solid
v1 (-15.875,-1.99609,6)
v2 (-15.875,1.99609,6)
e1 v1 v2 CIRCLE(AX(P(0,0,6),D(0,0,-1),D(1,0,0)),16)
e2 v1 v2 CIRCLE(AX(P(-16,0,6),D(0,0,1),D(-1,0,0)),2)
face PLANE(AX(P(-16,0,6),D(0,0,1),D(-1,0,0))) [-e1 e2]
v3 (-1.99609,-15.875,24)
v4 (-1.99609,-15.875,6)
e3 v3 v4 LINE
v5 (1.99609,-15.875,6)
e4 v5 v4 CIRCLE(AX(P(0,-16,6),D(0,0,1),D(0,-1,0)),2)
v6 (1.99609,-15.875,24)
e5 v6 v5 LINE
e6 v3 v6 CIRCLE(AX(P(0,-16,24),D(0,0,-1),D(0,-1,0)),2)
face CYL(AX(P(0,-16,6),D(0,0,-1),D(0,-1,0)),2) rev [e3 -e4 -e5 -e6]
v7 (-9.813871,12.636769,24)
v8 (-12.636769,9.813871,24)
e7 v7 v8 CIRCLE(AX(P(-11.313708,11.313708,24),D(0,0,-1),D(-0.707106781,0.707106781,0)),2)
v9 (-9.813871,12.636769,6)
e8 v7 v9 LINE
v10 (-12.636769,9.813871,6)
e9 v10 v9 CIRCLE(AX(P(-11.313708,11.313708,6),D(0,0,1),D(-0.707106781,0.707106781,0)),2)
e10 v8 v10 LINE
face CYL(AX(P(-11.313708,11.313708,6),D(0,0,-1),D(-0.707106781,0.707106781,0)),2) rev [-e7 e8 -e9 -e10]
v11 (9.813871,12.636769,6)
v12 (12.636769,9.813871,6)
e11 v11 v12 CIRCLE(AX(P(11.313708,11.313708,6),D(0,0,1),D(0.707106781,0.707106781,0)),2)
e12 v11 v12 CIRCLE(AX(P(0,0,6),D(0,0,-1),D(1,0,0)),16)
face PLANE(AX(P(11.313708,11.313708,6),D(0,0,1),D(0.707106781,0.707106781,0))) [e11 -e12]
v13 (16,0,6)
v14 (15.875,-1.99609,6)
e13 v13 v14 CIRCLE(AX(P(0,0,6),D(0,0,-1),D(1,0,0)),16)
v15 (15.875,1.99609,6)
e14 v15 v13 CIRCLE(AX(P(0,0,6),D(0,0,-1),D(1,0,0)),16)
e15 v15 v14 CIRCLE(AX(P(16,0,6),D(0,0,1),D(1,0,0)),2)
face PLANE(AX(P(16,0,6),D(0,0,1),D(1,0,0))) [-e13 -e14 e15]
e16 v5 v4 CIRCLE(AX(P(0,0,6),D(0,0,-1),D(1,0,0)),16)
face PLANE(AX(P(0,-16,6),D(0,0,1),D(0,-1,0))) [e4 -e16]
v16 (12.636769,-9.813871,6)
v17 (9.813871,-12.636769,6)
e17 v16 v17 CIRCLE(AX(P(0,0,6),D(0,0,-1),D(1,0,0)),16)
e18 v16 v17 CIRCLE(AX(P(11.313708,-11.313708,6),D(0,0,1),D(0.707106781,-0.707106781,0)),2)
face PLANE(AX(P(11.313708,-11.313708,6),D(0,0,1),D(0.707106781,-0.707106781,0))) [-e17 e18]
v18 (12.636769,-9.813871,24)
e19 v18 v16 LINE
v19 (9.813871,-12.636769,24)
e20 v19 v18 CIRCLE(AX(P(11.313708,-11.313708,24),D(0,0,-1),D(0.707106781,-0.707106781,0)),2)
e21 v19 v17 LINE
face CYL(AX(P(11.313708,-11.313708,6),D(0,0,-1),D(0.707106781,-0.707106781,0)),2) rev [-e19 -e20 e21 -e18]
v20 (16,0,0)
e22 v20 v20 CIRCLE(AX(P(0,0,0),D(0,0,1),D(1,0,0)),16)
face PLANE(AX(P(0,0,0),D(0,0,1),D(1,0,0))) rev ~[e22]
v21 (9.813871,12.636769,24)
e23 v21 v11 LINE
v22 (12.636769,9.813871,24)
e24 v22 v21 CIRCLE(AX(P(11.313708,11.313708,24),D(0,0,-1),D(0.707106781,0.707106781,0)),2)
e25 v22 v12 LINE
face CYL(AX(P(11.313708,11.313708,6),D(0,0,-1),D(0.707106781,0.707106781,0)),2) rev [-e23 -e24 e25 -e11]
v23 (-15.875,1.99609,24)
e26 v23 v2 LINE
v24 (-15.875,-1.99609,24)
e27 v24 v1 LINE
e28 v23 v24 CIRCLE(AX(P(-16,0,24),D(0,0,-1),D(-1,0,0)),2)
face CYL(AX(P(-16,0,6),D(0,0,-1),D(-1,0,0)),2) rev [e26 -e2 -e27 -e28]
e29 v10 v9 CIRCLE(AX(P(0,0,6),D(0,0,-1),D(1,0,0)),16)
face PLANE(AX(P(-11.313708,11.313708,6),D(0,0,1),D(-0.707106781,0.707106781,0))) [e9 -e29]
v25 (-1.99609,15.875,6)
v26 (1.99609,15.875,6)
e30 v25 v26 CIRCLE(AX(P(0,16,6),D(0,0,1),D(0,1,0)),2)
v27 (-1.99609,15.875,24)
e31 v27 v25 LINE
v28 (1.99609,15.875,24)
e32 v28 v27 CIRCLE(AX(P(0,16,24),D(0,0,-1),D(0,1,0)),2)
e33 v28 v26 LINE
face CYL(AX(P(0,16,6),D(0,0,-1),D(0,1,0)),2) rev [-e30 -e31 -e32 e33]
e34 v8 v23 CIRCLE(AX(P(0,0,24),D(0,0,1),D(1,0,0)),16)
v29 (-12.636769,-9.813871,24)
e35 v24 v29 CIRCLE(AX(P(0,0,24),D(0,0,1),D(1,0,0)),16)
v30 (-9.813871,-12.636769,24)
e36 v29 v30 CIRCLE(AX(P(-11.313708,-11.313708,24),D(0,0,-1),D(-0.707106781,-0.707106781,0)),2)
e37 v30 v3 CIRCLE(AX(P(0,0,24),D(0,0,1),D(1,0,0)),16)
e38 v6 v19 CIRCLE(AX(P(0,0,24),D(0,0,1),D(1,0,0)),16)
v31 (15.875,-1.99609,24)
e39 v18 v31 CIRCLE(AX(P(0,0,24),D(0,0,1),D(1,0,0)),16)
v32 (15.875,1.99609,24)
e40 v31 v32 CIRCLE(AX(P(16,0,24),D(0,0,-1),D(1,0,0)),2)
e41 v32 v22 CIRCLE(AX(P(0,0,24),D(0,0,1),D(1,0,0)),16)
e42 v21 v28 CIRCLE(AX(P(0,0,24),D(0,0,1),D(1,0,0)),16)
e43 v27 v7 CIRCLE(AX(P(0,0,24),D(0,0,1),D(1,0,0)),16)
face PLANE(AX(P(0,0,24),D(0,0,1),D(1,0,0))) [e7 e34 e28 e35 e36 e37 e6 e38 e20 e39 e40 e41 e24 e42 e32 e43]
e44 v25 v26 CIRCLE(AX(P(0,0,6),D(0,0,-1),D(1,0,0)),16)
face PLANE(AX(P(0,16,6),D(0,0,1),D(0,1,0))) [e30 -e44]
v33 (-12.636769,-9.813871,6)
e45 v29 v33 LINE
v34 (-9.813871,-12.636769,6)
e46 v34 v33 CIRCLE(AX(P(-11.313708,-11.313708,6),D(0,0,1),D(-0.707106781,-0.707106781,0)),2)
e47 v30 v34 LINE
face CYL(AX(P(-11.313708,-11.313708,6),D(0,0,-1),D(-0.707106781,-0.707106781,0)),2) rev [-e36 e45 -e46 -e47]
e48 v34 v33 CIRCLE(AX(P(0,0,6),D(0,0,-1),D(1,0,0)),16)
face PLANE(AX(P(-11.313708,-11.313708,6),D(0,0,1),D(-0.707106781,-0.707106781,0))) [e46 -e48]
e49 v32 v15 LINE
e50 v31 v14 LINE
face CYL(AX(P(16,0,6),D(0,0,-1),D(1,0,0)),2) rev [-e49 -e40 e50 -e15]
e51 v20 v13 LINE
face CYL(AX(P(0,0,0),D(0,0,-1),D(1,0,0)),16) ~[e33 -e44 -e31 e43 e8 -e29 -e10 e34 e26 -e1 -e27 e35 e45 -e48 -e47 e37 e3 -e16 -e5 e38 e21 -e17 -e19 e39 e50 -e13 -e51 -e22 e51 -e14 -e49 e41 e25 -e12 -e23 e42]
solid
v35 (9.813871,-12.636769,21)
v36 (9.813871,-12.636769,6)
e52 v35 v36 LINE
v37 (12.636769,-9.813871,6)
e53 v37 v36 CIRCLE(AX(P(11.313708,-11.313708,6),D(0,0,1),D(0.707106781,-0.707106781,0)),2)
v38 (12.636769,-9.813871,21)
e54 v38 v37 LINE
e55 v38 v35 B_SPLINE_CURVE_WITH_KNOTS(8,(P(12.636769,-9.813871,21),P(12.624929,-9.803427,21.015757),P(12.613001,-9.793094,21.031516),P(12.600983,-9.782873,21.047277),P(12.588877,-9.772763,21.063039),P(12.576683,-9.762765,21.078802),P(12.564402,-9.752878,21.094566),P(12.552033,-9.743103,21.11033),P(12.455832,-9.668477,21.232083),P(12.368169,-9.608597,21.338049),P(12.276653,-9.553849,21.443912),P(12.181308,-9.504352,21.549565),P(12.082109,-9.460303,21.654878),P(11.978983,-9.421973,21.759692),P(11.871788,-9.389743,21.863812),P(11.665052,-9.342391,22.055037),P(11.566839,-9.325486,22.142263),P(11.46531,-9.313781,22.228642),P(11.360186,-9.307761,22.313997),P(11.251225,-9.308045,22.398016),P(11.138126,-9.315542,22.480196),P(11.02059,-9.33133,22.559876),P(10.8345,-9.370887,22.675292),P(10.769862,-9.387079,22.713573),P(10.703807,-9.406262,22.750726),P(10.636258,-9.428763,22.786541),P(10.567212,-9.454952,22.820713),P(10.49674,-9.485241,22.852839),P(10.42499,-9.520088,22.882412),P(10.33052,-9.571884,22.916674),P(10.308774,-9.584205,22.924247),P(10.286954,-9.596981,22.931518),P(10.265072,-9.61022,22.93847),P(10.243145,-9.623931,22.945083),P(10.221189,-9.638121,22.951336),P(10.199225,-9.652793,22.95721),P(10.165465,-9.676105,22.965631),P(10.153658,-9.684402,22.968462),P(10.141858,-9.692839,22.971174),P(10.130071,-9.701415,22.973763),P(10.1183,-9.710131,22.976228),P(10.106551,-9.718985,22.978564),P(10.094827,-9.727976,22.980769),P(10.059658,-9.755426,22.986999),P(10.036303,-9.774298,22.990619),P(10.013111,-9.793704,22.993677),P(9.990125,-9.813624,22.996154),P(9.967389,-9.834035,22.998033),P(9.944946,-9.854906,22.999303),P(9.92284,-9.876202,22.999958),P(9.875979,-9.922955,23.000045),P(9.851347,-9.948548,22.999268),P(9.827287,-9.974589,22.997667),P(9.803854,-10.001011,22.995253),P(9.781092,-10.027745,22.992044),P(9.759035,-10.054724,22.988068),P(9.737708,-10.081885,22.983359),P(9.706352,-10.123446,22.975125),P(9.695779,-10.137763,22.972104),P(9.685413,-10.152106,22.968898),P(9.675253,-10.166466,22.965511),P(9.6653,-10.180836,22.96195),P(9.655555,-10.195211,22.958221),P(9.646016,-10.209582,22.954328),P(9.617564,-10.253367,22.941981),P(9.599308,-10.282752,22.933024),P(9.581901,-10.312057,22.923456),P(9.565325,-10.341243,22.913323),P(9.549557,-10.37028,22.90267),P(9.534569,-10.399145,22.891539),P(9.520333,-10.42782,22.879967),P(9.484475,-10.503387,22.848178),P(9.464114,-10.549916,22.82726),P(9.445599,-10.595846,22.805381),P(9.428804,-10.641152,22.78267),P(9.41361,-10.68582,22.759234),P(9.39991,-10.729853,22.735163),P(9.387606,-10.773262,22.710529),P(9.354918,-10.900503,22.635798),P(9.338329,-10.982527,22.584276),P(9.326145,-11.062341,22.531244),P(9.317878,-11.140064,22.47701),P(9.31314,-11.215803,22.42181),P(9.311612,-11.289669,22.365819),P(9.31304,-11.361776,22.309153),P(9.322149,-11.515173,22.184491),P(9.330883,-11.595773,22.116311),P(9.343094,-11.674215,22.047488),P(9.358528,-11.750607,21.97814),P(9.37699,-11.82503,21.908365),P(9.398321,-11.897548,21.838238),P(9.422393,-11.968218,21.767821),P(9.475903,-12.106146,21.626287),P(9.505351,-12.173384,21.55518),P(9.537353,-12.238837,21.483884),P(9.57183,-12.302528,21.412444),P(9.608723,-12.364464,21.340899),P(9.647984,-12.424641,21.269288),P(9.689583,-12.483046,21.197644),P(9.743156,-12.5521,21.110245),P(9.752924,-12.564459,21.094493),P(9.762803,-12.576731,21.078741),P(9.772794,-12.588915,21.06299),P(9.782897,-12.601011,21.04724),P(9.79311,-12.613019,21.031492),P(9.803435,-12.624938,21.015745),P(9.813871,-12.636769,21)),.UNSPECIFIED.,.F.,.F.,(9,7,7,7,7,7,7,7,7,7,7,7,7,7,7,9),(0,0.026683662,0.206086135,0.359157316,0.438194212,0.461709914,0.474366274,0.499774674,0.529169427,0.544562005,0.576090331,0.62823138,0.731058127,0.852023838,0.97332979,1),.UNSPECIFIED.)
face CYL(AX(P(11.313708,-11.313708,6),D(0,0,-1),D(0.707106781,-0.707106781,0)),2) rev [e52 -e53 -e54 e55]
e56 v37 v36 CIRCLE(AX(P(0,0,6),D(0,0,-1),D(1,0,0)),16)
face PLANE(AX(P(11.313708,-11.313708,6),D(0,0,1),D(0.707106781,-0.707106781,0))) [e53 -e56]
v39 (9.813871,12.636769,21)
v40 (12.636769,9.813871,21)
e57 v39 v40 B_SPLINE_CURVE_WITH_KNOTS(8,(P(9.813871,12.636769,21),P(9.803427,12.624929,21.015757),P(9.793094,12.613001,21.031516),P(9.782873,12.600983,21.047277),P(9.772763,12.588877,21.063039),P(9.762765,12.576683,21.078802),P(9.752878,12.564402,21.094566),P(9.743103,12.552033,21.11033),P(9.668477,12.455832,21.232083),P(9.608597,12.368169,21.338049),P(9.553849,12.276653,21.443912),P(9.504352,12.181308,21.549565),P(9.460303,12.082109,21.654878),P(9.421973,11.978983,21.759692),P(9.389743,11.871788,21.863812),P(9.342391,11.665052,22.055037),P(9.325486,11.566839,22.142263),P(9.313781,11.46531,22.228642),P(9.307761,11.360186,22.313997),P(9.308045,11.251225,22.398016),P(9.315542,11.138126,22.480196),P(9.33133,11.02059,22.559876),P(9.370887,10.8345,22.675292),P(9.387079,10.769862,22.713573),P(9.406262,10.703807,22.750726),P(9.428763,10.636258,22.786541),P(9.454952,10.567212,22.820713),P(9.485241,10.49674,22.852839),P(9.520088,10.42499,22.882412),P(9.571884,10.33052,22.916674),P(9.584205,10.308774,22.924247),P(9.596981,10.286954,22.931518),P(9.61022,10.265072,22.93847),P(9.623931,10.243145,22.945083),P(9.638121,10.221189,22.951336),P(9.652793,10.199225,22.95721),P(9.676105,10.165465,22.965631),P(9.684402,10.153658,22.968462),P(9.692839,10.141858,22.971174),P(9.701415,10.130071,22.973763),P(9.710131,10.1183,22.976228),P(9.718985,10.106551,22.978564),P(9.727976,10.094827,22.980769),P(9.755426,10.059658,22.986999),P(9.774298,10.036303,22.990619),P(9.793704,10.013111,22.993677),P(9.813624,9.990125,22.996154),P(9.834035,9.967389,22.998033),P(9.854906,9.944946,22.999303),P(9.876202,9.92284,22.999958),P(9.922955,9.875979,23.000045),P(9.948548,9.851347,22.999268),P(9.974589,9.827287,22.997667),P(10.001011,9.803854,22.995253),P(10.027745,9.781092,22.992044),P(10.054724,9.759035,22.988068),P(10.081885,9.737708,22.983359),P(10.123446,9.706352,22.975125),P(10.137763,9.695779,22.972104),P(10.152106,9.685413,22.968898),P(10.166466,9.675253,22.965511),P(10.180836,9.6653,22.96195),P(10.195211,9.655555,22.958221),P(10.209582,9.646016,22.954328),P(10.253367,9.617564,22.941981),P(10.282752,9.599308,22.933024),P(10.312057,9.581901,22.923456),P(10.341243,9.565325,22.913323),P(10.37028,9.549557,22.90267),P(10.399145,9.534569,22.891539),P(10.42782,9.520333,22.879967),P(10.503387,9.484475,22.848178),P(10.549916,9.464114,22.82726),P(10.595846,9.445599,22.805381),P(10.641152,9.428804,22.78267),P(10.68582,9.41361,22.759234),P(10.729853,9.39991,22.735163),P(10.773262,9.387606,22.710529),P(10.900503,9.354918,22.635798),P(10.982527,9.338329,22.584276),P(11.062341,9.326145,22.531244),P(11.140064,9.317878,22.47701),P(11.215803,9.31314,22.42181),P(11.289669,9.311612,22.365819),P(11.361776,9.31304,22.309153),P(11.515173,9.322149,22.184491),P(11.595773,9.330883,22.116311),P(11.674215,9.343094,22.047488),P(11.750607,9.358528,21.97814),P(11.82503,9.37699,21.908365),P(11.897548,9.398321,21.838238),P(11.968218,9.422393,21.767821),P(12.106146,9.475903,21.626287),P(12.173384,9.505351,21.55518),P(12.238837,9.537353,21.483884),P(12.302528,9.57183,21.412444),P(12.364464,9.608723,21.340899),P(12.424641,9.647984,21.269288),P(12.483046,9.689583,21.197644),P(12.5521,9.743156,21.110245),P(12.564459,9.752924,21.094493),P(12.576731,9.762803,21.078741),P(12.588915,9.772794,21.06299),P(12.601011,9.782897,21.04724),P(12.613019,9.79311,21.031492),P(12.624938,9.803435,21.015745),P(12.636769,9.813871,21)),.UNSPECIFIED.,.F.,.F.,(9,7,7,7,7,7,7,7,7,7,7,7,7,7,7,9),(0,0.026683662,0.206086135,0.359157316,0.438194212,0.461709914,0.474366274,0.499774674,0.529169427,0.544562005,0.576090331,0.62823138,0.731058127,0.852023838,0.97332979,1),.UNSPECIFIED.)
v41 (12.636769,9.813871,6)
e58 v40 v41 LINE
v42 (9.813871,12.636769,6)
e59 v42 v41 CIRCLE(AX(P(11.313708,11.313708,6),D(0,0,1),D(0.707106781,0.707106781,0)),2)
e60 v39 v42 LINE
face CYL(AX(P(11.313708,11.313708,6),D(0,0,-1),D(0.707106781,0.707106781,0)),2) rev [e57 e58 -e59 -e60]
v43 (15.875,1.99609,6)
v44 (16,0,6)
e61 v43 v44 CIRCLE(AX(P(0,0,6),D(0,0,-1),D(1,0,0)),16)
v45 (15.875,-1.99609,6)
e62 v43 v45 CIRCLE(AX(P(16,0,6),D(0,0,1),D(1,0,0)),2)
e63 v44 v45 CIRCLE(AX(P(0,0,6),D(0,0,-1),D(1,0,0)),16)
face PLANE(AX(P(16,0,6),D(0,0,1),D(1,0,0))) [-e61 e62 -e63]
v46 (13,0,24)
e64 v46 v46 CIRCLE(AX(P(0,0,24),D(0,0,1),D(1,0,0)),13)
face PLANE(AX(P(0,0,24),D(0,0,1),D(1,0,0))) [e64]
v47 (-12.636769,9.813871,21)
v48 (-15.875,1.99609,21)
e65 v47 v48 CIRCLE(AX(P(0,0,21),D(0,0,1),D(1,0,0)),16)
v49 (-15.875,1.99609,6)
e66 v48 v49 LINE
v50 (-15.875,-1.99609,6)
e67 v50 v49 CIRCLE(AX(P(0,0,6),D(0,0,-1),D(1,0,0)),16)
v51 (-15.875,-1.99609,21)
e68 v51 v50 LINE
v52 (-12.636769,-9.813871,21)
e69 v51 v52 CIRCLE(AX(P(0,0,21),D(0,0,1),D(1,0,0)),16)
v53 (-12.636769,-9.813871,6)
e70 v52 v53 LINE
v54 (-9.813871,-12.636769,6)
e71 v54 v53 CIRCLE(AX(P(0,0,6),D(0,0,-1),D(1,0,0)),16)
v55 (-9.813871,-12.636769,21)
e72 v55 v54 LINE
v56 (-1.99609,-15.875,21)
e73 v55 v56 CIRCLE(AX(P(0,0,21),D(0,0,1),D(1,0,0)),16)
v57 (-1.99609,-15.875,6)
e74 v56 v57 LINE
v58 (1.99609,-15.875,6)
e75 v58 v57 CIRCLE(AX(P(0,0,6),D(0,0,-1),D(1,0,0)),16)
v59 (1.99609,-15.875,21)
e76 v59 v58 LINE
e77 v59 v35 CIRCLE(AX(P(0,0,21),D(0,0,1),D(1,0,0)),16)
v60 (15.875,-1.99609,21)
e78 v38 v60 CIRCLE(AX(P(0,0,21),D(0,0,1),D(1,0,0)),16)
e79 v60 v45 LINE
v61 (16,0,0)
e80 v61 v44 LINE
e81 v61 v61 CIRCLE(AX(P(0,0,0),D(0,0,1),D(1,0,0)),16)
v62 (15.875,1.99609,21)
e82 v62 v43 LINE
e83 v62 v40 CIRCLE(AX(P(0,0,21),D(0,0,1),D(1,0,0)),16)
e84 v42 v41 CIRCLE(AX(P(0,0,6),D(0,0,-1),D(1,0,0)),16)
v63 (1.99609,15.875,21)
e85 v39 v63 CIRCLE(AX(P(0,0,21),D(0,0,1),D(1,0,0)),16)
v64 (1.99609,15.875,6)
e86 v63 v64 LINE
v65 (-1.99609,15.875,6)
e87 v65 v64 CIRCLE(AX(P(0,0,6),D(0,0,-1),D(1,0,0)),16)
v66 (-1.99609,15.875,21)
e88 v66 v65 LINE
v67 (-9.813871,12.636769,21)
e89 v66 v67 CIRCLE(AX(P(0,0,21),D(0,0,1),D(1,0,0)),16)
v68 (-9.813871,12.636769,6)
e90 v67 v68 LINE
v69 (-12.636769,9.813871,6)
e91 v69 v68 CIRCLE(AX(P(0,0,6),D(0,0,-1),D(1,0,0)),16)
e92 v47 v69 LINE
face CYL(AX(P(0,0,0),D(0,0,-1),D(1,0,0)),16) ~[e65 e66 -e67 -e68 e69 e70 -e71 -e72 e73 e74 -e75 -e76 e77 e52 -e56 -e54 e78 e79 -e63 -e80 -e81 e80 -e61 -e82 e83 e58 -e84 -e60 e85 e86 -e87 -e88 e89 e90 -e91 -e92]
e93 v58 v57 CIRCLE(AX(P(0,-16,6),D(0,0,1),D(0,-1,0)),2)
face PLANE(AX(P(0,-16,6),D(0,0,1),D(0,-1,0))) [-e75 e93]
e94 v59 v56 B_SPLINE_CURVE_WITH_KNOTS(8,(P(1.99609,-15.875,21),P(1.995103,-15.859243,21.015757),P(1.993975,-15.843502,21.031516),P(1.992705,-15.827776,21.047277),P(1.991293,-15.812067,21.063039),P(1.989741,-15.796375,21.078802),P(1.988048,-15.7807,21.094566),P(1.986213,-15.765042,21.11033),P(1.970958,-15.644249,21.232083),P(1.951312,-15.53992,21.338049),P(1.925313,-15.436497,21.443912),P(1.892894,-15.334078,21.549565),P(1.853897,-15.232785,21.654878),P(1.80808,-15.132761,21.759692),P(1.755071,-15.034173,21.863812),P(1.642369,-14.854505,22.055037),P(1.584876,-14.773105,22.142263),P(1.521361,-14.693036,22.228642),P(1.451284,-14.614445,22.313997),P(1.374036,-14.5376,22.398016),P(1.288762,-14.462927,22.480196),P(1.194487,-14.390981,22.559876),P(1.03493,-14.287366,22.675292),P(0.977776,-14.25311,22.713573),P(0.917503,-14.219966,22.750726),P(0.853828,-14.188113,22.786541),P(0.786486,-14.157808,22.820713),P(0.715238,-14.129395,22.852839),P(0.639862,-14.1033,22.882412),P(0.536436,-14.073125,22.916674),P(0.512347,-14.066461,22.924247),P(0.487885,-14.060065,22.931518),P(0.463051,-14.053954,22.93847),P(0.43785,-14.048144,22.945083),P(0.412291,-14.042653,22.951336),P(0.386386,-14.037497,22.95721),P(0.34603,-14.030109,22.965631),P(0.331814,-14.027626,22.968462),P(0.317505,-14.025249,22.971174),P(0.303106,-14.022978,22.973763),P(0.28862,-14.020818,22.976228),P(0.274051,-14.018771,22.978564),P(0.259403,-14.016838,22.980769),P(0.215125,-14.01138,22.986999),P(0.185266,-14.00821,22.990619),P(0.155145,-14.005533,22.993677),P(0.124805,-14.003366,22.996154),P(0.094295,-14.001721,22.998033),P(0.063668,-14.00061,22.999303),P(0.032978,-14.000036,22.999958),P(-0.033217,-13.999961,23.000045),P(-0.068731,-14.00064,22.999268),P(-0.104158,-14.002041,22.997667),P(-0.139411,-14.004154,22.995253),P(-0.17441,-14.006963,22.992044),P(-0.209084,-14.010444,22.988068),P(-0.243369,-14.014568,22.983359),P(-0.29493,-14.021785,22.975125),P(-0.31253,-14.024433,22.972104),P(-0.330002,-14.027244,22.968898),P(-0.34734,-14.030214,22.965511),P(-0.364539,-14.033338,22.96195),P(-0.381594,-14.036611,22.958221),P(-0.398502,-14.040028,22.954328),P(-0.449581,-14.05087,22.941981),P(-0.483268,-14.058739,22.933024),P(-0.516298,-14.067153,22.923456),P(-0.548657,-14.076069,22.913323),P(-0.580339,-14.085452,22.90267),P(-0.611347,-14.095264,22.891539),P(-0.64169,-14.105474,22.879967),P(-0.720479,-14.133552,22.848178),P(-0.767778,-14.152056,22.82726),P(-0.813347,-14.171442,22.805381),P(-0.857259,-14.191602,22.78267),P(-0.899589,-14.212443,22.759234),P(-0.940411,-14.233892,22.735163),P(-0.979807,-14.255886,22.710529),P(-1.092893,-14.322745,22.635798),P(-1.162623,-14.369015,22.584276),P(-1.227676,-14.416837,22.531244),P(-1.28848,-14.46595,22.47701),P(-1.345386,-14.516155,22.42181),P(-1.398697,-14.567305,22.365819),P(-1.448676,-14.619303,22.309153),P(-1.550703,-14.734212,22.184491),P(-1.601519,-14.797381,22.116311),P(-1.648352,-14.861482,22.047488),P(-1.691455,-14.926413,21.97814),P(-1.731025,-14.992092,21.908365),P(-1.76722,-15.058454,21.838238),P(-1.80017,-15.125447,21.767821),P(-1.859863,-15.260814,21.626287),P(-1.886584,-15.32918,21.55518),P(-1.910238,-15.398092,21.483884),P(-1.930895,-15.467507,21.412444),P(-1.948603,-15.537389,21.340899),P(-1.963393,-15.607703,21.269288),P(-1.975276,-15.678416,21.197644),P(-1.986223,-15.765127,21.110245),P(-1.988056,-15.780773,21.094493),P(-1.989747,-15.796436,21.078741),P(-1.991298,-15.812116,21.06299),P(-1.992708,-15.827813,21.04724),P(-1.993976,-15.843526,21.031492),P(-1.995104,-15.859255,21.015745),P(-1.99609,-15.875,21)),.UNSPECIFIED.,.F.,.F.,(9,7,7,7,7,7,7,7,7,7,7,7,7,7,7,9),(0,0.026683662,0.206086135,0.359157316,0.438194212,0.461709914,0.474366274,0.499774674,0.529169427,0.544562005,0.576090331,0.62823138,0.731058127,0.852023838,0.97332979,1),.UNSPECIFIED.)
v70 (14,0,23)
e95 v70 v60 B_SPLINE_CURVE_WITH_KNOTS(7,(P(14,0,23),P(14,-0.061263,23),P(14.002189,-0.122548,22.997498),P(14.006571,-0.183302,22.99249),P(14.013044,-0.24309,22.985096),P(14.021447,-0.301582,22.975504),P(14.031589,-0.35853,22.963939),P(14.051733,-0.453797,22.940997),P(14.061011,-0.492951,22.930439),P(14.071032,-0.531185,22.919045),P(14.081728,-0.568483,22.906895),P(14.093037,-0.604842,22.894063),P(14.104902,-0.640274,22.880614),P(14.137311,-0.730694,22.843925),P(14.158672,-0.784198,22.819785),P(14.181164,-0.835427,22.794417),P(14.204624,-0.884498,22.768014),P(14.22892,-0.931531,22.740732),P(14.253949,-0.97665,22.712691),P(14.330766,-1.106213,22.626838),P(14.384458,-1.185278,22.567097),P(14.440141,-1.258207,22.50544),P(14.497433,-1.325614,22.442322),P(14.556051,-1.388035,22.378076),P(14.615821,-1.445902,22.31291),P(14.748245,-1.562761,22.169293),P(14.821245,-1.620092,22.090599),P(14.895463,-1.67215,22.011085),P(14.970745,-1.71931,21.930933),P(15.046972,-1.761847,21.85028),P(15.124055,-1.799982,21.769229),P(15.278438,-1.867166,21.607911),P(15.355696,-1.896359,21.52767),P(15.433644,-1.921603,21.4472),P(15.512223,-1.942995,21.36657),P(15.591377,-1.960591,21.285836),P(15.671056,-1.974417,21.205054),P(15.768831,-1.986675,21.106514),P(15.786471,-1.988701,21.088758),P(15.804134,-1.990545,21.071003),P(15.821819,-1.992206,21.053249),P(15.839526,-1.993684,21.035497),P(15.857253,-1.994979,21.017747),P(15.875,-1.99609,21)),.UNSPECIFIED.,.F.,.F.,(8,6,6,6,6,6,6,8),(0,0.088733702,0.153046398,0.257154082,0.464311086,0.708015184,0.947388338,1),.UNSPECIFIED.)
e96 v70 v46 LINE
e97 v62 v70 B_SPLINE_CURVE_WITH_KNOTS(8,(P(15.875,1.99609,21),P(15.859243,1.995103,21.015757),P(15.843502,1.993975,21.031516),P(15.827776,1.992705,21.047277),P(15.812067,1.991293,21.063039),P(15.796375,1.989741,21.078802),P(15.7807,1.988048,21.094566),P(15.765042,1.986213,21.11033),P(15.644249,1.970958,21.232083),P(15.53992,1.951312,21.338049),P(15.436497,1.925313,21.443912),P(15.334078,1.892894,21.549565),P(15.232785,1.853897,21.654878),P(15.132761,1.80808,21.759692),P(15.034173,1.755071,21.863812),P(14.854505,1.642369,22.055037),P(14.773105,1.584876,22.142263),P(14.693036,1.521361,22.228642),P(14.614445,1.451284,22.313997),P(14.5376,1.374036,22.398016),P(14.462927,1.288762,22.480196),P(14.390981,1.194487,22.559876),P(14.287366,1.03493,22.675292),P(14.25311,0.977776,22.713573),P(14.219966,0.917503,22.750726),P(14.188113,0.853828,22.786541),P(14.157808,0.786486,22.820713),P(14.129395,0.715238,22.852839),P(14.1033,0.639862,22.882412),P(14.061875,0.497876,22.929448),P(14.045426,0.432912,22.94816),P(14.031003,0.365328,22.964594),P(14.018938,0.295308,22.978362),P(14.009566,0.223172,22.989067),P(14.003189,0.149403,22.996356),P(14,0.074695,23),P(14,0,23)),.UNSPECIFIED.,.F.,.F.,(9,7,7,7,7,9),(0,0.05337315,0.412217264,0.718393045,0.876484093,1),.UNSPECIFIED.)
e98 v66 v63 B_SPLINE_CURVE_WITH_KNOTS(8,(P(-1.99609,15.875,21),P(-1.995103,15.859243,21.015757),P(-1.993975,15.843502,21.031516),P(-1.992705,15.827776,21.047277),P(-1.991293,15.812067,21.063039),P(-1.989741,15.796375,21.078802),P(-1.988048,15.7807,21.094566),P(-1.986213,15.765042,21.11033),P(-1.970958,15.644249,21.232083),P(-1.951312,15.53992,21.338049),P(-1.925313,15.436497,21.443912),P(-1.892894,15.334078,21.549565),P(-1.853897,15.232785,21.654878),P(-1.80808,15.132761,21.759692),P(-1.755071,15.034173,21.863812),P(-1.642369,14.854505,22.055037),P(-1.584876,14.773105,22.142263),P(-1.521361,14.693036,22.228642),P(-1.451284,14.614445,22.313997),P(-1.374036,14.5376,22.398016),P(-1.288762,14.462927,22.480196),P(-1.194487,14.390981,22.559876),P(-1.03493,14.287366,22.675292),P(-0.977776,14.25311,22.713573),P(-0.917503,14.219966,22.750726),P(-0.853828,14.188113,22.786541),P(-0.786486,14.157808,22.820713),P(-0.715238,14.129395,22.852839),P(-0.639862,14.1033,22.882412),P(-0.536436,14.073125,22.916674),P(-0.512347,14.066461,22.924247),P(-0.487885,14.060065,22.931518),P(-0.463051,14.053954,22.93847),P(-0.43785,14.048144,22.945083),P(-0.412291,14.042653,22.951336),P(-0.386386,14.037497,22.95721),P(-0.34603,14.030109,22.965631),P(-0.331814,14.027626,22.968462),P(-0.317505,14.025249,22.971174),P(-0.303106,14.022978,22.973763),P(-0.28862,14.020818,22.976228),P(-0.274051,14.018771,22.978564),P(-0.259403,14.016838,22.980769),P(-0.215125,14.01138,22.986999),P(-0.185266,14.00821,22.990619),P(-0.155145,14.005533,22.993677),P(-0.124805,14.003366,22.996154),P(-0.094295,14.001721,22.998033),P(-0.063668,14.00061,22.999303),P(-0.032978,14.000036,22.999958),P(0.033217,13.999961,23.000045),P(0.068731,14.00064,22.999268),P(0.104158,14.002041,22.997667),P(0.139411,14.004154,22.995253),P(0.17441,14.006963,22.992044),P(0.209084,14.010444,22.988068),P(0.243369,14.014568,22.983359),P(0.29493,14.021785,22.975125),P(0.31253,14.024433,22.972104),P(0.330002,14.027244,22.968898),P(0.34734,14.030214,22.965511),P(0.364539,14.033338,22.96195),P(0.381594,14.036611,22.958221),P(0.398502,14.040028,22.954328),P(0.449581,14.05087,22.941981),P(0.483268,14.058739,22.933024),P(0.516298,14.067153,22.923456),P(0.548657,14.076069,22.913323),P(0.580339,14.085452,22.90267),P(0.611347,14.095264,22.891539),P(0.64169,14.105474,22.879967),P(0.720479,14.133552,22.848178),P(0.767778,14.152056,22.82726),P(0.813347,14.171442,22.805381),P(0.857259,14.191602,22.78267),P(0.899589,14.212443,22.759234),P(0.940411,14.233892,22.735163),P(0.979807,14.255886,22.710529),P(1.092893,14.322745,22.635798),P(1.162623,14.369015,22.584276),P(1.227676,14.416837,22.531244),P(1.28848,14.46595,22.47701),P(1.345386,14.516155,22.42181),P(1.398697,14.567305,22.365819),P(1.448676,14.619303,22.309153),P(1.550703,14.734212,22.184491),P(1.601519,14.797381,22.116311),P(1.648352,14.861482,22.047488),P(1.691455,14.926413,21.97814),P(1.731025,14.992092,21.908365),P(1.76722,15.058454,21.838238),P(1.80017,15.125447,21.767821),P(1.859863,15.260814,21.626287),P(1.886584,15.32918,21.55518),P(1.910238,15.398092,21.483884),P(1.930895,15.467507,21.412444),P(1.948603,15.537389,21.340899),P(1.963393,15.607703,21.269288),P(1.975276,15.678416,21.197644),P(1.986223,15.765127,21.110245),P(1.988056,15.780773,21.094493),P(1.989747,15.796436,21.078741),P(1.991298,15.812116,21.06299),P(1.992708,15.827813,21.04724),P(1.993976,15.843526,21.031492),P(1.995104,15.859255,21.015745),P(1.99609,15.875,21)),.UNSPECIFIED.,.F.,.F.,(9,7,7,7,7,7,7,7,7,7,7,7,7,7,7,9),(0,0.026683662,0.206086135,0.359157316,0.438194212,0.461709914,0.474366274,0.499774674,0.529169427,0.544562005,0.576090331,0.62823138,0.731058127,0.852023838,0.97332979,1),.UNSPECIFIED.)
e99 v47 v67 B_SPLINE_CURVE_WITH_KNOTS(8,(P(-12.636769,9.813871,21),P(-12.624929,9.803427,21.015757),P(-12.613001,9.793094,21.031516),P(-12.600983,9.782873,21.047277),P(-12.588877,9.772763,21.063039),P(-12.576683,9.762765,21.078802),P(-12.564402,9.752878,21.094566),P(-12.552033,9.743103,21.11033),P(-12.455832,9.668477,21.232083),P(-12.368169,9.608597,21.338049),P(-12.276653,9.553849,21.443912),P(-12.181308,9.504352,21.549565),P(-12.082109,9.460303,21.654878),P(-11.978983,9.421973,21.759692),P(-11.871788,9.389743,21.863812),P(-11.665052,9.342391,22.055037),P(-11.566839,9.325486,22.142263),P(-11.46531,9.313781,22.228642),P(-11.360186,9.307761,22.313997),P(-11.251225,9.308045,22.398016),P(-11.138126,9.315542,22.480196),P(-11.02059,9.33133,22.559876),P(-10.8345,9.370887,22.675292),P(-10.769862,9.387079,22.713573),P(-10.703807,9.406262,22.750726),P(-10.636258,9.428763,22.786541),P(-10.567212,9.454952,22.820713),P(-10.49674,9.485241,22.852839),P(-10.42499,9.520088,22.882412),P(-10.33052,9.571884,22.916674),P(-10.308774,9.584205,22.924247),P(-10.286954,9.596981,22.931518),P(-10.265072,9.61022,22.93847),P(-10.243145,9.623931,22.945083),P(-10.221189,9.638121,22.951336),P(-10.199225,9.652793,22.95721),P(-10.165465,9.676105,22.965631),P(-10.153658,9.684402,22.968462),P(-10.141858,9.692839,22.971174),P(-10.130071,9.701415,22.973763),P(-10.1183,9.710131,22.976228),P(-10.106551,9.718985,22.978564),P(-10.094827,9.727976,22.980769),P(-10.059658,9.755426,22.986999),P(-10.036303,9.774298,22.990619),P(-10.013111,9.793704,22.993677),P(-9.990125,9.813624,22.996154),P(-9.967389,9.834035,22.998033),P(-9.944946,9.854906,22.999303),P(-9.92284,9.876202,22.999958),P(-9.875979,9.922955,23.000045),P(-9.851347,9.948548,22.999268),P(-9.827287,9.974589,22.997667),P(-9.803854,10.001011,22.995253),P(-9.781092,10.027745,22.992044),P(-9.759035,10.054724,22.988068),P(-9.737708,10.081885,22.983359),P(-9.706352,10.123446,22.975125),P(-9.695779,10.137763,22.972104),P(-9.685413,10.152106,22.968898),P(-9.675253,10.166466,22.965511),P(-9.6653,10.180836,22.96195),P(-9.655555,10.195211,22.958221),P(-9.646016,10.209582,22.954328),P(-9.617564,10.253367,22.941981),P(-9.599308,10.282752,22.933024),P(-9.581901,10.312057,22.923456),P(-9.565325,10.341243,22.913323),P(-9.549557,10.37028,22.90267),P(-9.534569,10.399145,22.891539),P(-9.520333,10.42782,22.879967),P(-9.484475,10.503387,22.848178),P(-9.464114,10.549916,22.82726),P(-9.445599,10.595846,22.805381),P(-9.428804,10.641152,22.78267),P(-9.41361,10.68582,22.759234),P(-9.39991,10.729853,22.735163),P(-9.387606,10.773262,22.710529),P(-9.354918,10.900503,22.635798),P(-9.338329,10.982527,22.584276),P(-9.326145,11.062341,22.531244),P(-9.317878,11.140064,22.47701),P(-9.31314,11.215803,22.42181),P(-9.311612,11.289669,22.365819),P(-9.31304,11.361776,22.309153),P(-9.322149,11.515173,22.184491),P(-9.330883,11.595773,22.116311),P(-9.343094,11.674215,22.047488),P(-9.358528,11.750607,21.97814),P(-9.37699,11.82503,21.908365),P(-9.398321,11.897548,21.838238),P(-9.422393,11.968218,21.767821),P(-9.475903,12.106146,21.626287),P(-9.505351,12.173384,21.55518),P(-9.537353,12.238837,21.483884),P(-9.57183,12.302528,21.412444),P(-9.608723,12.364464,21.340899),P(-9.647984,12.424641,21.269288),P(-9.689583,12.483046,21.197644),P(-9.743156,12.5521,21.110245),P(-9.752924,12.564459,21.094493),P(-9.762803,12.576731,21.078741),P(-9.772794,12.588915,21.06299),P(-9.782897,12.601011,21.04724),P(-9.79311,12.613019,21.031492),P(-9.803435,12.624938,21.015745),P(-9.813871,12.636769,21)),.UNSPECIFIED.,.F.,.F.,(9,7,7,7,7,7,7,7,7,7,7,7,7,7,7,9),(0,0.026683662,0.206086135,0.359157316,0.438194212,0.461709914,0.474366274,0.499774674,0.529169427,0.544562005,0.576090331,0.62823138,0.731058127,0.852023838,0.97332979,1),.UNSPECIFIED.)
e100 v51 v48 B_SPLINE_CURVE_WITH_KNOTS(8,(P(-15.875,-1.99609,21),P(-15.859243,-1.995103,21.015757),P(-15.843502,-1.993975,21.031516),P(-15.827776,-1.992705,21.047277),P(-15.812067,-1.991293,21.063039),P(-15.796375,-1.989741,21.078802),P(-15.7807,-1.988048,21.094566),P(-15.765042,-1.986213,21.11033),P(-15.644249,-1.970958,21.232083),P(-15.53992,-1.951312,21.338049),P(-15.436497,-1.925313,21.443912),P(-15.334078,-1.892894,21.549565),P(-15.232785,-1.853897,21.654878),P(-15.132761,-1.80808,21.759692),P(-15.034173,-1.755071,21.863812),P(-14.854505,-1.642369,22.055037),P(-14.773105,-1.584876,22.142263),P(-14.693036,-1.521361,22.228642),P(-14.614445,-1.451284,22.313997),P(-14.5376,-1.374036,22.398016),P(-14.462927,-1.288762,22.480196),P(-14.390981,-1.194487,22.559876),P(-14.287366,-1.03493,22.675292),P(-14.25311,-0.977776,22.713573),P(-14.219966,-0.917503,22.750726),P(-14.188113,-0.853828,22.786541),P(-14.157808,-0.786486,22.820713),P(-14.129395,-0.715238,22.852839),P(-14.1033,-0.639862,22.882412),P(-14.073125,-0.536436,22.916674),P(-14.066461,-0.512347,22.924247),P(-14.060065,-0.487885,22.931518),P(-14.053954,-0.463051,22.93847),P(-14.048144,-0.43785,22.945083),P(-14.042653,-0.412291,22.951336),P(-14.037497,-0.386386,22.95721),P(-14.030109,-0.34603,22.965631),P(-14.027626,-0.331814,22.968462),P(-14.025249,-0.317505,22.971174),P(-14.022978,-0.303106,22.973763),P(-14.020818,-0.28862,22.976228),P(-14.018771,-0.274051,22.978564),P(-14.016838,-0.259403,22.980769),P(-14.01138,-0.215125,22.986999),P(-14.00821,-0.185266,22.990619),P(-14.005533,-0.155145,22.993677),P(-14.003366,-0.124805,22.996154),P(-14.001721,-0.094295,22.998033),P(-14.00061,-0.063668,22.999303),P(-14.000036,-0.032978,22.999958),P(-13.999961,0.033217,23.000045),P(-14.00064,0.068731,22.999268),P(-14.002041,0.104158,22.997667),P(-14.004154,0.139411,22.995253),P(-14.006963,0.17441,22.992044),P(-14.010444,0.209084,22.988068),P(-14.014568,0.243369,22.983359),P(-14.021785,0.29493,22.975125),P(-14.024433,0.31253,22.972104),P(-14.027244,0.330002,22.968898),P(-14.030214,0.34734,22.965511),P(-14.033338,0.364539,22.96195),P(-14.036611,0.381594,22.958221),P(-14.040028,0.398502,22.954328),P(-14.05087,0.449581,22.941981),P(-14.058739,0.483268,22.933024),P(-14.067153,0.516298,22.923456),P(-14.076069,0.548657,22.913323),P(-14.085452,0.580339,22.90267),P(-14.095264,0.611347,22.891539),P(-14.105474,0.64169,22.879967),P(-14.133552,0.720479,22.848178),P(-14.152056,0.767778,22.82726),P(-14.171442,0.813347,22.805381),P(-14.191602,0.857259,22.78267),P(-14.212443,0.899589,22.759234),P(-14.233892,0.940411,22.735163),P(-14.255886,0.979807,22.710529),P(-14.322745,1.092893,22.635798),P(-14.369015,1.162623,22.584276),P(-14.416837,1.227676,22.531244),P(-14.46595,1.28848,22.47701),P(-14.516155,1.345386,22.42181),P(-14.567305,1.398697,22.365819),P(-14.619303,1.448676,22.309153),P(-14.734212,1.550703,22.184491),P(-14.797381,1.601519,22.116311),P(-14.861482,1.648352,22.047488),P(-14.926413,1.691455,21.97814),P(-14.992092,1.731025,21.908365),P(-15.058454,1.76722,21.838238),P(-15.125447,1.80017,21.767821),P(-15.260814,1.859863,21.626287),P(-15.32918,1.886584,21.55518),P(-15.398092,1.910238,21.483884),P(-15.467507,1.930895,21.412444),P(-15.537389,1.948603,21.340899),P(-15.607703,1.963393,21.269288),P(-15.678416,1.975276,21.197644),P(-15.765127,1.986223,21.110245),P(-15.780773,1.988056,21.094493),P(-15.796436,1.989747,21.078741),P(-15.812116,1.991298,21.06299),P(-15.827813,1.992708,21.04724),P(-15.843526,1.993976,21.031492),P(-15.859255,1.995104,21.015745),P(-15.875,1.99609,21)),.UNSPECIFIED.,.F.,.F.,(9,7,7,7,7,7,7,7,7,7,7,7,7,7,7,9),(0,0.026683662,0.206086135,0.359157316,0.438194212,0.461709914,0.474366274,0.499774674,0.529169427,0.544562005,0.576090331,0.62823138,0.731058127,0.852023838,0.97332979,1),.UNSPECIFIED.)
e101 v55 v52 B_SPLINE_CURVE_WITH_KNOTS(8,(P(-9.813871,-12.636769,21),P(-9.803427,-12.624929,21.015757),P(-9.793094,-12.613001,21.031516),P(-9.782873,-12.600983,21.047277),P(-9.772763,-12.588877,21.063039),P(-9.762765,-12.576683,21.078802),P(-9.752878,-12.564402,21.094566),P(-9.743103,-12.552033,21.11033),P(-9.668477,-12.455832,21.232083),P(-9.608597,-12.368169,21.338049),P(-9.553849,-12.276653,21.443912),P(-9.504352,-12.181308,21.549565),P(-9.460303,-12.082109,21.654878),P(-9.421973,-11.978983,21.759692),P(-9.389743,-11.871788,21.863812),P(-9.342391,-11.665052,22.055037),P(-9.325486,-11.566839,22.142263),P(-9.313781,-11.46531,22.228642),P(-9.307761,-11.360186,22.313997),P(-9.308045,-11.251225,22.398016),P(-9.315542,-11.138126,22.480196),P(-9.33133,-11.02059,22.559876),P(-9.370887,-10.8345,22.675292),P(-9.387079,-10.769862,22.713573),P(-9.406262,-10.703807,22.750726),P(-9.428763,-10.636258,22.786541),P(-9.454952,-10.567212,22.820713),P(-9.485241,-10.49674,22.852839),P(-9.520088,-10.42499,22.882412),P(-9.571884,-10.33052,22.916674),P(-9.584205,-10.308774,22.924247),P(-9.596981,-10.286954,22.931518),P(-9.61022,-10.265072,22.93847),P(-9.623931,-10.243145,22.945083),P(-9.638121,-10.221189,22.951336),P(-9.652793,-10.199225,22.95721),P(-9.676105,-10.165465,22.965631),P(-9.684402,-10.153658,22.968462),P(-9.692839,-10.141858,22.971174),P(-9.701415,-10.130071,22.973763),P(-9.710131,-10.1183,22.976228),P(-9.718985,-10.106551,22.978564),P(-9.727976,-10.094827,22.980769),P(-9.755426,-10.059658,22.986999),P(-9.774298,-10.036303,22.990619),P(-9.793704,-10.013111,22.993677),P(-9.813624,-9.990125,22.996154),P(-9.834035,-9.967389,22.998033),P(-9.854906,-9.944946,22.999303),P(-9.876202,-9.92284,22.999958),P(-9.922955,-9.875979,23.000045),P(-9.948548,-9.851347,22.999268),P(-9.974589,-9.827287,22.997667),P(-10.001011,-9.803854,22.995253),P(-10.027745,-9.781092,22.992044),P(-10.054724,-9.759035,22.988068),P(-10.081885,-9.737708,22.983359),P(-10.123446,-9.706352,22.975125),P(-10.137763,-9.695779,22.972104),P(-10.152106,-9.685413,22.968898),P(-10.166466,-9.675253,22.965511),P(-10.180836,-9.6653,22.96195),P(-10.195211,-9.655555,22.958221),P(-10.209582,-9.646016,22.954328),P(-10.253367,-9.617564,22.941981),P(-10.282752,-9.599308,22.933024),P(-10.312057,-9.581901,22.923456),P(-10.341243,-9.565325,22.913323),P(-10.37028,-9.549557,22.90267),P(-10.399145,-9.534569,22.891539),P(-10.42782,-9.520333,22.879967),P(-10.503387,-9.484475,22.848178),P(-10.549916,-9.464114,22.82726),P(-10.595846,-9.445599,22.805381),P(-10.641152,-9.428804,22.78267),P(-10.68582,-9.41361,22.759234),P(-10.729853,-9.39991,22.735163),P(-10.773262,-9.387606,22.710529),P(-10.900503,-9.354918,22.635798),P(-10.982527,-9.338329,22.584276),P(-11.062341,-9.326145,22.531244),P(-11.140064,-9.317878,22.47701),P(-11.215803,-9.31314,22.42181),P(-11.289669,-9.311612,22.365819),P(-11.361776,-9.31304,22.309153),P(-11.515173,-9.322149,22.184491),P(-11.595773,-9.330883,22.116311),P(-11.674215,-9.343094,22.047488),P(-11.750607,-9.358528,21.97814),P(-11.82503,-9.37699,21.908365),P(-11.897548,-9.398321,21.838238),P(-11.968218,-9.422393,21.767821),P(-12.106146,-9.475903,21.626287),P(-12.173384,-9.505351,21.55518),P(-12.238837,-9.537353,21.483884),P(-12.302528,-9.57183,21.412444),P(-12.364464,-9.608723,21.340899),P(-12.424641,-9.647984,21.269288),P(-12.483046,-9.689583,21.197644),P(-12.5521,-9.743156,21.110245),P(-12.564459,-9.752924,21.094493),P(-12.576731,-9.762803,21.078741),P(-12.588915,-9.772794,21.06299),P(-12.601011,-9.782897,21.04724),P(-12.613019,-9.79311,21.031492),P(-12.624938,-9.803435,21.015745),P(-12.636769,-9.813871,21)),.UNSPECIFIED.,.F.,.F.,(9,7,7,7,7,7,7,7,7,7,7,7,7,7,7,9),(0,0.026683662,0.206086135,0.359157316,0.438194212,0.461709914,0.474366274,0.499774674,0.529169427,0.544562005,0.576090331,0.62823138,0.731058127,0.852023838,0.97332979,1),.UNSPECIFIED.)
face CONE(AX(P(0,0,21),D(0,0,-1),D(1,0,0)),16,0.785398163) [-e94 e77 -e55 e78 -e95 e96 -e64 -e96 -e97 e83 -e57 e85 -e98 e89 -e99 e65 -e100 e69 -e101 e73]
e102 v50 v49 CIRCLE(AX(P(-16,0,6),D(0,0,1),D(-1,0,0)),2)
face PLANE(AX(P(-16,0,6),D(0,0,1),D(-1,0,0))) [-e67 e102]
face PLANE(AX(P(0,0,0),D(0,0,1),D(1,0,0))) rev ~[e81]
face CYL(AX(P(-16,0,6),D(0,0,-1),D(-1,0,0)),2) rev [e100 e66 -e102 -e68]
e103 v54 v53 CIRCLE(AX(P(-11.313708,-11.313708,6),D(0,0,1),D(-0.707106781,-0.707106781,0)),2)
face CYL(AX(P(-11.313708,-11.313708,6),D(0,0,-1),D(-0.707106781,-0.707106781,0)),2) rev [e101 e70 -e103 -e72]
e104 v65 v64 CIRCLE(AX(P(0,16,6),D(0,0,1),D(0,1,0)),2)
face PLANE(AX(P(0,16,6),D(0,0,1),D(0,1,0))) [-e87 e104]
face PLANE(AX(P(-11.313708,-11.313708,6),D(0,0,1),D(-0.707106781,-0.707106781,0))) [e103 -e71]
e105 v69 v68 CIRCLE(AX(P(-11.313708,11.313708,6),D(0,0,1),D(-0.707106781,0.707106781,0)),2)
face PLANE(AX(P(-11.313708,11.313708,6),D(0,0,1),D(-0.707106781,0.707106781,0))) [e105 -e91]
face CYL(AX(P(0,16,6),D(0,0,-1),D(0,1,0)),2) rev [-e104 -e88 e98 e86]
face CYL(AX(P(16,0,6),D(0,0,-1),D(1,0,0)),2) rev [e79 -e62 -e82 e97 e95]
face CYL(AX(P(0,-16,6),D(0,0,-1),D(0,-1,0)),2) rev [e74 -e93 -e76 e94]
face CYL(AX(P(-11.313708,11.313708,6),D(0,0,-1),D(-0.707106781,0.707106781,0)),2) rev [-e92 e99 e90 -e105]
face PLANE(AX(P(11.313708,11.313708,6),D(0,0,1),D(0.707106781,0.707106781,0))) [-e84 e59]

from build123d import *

# Parameters (mm, degrees)
CYLINDER001_R     = 2
CYLINDER001_DEPTH = 21
ARRAY_COUNT       = 8
CYLINDER_R        = 16
CYLINDER_DEPTH    = 24
CHAMFER_SIZE      = 3


with BuildPart() as array:
    # Cylinder001 → Cylinder001 (new body)
    with BuildSketch(Plane(origin=(16, 0, 6), x_dir=(1, 0, 0), z_dir=(0, 0, 1))):
        Circle(CYLINDER001_R)
    extrude(amount=CYLINDER001_DEPTH)

    # Array: Array ×8 about axis
    array_axis = Axis((0, 0, 1), (0, 0, 1))


with BuildPart() as array_1:
    add(array.part)
    for i in range(1, ARRAY_COUNT):
        add(array.part.rotate(array_axis, i * 360 / ARRAY_COUNT))


with BuildPart() as cilindre:
    # Cylinder → Cylinder (new body)
    with BuildSketch(Plane.XY):
        Circle(CYLINDER_R)
    extrude(amount=CYLINDER_DEPTH)


with BuildPart() as cut:
    # Cut base: copy of Cilindre
    add(cilindre.part)

    # Cut: cut Array
    add(array_1.part, mode=Mode.SUBTRACT)


with BuildPart() as cut001:
    # Chamfer base: copy of Cilindre
    add(cilindre.part)

    # Chamfer
    chamfer_edges = [cut001.edges().sort_by_distance(p)[0] for p in [
        (-16, 0, 24),
    ]]
    chamfer(chamfer_edges, length=CHAMFER_SIZE)

    # Cut001: cut Array
    add(array_1.part, mode=Mode.SUBTRACT)


solid = Compound([cut.part, cut001.part])
